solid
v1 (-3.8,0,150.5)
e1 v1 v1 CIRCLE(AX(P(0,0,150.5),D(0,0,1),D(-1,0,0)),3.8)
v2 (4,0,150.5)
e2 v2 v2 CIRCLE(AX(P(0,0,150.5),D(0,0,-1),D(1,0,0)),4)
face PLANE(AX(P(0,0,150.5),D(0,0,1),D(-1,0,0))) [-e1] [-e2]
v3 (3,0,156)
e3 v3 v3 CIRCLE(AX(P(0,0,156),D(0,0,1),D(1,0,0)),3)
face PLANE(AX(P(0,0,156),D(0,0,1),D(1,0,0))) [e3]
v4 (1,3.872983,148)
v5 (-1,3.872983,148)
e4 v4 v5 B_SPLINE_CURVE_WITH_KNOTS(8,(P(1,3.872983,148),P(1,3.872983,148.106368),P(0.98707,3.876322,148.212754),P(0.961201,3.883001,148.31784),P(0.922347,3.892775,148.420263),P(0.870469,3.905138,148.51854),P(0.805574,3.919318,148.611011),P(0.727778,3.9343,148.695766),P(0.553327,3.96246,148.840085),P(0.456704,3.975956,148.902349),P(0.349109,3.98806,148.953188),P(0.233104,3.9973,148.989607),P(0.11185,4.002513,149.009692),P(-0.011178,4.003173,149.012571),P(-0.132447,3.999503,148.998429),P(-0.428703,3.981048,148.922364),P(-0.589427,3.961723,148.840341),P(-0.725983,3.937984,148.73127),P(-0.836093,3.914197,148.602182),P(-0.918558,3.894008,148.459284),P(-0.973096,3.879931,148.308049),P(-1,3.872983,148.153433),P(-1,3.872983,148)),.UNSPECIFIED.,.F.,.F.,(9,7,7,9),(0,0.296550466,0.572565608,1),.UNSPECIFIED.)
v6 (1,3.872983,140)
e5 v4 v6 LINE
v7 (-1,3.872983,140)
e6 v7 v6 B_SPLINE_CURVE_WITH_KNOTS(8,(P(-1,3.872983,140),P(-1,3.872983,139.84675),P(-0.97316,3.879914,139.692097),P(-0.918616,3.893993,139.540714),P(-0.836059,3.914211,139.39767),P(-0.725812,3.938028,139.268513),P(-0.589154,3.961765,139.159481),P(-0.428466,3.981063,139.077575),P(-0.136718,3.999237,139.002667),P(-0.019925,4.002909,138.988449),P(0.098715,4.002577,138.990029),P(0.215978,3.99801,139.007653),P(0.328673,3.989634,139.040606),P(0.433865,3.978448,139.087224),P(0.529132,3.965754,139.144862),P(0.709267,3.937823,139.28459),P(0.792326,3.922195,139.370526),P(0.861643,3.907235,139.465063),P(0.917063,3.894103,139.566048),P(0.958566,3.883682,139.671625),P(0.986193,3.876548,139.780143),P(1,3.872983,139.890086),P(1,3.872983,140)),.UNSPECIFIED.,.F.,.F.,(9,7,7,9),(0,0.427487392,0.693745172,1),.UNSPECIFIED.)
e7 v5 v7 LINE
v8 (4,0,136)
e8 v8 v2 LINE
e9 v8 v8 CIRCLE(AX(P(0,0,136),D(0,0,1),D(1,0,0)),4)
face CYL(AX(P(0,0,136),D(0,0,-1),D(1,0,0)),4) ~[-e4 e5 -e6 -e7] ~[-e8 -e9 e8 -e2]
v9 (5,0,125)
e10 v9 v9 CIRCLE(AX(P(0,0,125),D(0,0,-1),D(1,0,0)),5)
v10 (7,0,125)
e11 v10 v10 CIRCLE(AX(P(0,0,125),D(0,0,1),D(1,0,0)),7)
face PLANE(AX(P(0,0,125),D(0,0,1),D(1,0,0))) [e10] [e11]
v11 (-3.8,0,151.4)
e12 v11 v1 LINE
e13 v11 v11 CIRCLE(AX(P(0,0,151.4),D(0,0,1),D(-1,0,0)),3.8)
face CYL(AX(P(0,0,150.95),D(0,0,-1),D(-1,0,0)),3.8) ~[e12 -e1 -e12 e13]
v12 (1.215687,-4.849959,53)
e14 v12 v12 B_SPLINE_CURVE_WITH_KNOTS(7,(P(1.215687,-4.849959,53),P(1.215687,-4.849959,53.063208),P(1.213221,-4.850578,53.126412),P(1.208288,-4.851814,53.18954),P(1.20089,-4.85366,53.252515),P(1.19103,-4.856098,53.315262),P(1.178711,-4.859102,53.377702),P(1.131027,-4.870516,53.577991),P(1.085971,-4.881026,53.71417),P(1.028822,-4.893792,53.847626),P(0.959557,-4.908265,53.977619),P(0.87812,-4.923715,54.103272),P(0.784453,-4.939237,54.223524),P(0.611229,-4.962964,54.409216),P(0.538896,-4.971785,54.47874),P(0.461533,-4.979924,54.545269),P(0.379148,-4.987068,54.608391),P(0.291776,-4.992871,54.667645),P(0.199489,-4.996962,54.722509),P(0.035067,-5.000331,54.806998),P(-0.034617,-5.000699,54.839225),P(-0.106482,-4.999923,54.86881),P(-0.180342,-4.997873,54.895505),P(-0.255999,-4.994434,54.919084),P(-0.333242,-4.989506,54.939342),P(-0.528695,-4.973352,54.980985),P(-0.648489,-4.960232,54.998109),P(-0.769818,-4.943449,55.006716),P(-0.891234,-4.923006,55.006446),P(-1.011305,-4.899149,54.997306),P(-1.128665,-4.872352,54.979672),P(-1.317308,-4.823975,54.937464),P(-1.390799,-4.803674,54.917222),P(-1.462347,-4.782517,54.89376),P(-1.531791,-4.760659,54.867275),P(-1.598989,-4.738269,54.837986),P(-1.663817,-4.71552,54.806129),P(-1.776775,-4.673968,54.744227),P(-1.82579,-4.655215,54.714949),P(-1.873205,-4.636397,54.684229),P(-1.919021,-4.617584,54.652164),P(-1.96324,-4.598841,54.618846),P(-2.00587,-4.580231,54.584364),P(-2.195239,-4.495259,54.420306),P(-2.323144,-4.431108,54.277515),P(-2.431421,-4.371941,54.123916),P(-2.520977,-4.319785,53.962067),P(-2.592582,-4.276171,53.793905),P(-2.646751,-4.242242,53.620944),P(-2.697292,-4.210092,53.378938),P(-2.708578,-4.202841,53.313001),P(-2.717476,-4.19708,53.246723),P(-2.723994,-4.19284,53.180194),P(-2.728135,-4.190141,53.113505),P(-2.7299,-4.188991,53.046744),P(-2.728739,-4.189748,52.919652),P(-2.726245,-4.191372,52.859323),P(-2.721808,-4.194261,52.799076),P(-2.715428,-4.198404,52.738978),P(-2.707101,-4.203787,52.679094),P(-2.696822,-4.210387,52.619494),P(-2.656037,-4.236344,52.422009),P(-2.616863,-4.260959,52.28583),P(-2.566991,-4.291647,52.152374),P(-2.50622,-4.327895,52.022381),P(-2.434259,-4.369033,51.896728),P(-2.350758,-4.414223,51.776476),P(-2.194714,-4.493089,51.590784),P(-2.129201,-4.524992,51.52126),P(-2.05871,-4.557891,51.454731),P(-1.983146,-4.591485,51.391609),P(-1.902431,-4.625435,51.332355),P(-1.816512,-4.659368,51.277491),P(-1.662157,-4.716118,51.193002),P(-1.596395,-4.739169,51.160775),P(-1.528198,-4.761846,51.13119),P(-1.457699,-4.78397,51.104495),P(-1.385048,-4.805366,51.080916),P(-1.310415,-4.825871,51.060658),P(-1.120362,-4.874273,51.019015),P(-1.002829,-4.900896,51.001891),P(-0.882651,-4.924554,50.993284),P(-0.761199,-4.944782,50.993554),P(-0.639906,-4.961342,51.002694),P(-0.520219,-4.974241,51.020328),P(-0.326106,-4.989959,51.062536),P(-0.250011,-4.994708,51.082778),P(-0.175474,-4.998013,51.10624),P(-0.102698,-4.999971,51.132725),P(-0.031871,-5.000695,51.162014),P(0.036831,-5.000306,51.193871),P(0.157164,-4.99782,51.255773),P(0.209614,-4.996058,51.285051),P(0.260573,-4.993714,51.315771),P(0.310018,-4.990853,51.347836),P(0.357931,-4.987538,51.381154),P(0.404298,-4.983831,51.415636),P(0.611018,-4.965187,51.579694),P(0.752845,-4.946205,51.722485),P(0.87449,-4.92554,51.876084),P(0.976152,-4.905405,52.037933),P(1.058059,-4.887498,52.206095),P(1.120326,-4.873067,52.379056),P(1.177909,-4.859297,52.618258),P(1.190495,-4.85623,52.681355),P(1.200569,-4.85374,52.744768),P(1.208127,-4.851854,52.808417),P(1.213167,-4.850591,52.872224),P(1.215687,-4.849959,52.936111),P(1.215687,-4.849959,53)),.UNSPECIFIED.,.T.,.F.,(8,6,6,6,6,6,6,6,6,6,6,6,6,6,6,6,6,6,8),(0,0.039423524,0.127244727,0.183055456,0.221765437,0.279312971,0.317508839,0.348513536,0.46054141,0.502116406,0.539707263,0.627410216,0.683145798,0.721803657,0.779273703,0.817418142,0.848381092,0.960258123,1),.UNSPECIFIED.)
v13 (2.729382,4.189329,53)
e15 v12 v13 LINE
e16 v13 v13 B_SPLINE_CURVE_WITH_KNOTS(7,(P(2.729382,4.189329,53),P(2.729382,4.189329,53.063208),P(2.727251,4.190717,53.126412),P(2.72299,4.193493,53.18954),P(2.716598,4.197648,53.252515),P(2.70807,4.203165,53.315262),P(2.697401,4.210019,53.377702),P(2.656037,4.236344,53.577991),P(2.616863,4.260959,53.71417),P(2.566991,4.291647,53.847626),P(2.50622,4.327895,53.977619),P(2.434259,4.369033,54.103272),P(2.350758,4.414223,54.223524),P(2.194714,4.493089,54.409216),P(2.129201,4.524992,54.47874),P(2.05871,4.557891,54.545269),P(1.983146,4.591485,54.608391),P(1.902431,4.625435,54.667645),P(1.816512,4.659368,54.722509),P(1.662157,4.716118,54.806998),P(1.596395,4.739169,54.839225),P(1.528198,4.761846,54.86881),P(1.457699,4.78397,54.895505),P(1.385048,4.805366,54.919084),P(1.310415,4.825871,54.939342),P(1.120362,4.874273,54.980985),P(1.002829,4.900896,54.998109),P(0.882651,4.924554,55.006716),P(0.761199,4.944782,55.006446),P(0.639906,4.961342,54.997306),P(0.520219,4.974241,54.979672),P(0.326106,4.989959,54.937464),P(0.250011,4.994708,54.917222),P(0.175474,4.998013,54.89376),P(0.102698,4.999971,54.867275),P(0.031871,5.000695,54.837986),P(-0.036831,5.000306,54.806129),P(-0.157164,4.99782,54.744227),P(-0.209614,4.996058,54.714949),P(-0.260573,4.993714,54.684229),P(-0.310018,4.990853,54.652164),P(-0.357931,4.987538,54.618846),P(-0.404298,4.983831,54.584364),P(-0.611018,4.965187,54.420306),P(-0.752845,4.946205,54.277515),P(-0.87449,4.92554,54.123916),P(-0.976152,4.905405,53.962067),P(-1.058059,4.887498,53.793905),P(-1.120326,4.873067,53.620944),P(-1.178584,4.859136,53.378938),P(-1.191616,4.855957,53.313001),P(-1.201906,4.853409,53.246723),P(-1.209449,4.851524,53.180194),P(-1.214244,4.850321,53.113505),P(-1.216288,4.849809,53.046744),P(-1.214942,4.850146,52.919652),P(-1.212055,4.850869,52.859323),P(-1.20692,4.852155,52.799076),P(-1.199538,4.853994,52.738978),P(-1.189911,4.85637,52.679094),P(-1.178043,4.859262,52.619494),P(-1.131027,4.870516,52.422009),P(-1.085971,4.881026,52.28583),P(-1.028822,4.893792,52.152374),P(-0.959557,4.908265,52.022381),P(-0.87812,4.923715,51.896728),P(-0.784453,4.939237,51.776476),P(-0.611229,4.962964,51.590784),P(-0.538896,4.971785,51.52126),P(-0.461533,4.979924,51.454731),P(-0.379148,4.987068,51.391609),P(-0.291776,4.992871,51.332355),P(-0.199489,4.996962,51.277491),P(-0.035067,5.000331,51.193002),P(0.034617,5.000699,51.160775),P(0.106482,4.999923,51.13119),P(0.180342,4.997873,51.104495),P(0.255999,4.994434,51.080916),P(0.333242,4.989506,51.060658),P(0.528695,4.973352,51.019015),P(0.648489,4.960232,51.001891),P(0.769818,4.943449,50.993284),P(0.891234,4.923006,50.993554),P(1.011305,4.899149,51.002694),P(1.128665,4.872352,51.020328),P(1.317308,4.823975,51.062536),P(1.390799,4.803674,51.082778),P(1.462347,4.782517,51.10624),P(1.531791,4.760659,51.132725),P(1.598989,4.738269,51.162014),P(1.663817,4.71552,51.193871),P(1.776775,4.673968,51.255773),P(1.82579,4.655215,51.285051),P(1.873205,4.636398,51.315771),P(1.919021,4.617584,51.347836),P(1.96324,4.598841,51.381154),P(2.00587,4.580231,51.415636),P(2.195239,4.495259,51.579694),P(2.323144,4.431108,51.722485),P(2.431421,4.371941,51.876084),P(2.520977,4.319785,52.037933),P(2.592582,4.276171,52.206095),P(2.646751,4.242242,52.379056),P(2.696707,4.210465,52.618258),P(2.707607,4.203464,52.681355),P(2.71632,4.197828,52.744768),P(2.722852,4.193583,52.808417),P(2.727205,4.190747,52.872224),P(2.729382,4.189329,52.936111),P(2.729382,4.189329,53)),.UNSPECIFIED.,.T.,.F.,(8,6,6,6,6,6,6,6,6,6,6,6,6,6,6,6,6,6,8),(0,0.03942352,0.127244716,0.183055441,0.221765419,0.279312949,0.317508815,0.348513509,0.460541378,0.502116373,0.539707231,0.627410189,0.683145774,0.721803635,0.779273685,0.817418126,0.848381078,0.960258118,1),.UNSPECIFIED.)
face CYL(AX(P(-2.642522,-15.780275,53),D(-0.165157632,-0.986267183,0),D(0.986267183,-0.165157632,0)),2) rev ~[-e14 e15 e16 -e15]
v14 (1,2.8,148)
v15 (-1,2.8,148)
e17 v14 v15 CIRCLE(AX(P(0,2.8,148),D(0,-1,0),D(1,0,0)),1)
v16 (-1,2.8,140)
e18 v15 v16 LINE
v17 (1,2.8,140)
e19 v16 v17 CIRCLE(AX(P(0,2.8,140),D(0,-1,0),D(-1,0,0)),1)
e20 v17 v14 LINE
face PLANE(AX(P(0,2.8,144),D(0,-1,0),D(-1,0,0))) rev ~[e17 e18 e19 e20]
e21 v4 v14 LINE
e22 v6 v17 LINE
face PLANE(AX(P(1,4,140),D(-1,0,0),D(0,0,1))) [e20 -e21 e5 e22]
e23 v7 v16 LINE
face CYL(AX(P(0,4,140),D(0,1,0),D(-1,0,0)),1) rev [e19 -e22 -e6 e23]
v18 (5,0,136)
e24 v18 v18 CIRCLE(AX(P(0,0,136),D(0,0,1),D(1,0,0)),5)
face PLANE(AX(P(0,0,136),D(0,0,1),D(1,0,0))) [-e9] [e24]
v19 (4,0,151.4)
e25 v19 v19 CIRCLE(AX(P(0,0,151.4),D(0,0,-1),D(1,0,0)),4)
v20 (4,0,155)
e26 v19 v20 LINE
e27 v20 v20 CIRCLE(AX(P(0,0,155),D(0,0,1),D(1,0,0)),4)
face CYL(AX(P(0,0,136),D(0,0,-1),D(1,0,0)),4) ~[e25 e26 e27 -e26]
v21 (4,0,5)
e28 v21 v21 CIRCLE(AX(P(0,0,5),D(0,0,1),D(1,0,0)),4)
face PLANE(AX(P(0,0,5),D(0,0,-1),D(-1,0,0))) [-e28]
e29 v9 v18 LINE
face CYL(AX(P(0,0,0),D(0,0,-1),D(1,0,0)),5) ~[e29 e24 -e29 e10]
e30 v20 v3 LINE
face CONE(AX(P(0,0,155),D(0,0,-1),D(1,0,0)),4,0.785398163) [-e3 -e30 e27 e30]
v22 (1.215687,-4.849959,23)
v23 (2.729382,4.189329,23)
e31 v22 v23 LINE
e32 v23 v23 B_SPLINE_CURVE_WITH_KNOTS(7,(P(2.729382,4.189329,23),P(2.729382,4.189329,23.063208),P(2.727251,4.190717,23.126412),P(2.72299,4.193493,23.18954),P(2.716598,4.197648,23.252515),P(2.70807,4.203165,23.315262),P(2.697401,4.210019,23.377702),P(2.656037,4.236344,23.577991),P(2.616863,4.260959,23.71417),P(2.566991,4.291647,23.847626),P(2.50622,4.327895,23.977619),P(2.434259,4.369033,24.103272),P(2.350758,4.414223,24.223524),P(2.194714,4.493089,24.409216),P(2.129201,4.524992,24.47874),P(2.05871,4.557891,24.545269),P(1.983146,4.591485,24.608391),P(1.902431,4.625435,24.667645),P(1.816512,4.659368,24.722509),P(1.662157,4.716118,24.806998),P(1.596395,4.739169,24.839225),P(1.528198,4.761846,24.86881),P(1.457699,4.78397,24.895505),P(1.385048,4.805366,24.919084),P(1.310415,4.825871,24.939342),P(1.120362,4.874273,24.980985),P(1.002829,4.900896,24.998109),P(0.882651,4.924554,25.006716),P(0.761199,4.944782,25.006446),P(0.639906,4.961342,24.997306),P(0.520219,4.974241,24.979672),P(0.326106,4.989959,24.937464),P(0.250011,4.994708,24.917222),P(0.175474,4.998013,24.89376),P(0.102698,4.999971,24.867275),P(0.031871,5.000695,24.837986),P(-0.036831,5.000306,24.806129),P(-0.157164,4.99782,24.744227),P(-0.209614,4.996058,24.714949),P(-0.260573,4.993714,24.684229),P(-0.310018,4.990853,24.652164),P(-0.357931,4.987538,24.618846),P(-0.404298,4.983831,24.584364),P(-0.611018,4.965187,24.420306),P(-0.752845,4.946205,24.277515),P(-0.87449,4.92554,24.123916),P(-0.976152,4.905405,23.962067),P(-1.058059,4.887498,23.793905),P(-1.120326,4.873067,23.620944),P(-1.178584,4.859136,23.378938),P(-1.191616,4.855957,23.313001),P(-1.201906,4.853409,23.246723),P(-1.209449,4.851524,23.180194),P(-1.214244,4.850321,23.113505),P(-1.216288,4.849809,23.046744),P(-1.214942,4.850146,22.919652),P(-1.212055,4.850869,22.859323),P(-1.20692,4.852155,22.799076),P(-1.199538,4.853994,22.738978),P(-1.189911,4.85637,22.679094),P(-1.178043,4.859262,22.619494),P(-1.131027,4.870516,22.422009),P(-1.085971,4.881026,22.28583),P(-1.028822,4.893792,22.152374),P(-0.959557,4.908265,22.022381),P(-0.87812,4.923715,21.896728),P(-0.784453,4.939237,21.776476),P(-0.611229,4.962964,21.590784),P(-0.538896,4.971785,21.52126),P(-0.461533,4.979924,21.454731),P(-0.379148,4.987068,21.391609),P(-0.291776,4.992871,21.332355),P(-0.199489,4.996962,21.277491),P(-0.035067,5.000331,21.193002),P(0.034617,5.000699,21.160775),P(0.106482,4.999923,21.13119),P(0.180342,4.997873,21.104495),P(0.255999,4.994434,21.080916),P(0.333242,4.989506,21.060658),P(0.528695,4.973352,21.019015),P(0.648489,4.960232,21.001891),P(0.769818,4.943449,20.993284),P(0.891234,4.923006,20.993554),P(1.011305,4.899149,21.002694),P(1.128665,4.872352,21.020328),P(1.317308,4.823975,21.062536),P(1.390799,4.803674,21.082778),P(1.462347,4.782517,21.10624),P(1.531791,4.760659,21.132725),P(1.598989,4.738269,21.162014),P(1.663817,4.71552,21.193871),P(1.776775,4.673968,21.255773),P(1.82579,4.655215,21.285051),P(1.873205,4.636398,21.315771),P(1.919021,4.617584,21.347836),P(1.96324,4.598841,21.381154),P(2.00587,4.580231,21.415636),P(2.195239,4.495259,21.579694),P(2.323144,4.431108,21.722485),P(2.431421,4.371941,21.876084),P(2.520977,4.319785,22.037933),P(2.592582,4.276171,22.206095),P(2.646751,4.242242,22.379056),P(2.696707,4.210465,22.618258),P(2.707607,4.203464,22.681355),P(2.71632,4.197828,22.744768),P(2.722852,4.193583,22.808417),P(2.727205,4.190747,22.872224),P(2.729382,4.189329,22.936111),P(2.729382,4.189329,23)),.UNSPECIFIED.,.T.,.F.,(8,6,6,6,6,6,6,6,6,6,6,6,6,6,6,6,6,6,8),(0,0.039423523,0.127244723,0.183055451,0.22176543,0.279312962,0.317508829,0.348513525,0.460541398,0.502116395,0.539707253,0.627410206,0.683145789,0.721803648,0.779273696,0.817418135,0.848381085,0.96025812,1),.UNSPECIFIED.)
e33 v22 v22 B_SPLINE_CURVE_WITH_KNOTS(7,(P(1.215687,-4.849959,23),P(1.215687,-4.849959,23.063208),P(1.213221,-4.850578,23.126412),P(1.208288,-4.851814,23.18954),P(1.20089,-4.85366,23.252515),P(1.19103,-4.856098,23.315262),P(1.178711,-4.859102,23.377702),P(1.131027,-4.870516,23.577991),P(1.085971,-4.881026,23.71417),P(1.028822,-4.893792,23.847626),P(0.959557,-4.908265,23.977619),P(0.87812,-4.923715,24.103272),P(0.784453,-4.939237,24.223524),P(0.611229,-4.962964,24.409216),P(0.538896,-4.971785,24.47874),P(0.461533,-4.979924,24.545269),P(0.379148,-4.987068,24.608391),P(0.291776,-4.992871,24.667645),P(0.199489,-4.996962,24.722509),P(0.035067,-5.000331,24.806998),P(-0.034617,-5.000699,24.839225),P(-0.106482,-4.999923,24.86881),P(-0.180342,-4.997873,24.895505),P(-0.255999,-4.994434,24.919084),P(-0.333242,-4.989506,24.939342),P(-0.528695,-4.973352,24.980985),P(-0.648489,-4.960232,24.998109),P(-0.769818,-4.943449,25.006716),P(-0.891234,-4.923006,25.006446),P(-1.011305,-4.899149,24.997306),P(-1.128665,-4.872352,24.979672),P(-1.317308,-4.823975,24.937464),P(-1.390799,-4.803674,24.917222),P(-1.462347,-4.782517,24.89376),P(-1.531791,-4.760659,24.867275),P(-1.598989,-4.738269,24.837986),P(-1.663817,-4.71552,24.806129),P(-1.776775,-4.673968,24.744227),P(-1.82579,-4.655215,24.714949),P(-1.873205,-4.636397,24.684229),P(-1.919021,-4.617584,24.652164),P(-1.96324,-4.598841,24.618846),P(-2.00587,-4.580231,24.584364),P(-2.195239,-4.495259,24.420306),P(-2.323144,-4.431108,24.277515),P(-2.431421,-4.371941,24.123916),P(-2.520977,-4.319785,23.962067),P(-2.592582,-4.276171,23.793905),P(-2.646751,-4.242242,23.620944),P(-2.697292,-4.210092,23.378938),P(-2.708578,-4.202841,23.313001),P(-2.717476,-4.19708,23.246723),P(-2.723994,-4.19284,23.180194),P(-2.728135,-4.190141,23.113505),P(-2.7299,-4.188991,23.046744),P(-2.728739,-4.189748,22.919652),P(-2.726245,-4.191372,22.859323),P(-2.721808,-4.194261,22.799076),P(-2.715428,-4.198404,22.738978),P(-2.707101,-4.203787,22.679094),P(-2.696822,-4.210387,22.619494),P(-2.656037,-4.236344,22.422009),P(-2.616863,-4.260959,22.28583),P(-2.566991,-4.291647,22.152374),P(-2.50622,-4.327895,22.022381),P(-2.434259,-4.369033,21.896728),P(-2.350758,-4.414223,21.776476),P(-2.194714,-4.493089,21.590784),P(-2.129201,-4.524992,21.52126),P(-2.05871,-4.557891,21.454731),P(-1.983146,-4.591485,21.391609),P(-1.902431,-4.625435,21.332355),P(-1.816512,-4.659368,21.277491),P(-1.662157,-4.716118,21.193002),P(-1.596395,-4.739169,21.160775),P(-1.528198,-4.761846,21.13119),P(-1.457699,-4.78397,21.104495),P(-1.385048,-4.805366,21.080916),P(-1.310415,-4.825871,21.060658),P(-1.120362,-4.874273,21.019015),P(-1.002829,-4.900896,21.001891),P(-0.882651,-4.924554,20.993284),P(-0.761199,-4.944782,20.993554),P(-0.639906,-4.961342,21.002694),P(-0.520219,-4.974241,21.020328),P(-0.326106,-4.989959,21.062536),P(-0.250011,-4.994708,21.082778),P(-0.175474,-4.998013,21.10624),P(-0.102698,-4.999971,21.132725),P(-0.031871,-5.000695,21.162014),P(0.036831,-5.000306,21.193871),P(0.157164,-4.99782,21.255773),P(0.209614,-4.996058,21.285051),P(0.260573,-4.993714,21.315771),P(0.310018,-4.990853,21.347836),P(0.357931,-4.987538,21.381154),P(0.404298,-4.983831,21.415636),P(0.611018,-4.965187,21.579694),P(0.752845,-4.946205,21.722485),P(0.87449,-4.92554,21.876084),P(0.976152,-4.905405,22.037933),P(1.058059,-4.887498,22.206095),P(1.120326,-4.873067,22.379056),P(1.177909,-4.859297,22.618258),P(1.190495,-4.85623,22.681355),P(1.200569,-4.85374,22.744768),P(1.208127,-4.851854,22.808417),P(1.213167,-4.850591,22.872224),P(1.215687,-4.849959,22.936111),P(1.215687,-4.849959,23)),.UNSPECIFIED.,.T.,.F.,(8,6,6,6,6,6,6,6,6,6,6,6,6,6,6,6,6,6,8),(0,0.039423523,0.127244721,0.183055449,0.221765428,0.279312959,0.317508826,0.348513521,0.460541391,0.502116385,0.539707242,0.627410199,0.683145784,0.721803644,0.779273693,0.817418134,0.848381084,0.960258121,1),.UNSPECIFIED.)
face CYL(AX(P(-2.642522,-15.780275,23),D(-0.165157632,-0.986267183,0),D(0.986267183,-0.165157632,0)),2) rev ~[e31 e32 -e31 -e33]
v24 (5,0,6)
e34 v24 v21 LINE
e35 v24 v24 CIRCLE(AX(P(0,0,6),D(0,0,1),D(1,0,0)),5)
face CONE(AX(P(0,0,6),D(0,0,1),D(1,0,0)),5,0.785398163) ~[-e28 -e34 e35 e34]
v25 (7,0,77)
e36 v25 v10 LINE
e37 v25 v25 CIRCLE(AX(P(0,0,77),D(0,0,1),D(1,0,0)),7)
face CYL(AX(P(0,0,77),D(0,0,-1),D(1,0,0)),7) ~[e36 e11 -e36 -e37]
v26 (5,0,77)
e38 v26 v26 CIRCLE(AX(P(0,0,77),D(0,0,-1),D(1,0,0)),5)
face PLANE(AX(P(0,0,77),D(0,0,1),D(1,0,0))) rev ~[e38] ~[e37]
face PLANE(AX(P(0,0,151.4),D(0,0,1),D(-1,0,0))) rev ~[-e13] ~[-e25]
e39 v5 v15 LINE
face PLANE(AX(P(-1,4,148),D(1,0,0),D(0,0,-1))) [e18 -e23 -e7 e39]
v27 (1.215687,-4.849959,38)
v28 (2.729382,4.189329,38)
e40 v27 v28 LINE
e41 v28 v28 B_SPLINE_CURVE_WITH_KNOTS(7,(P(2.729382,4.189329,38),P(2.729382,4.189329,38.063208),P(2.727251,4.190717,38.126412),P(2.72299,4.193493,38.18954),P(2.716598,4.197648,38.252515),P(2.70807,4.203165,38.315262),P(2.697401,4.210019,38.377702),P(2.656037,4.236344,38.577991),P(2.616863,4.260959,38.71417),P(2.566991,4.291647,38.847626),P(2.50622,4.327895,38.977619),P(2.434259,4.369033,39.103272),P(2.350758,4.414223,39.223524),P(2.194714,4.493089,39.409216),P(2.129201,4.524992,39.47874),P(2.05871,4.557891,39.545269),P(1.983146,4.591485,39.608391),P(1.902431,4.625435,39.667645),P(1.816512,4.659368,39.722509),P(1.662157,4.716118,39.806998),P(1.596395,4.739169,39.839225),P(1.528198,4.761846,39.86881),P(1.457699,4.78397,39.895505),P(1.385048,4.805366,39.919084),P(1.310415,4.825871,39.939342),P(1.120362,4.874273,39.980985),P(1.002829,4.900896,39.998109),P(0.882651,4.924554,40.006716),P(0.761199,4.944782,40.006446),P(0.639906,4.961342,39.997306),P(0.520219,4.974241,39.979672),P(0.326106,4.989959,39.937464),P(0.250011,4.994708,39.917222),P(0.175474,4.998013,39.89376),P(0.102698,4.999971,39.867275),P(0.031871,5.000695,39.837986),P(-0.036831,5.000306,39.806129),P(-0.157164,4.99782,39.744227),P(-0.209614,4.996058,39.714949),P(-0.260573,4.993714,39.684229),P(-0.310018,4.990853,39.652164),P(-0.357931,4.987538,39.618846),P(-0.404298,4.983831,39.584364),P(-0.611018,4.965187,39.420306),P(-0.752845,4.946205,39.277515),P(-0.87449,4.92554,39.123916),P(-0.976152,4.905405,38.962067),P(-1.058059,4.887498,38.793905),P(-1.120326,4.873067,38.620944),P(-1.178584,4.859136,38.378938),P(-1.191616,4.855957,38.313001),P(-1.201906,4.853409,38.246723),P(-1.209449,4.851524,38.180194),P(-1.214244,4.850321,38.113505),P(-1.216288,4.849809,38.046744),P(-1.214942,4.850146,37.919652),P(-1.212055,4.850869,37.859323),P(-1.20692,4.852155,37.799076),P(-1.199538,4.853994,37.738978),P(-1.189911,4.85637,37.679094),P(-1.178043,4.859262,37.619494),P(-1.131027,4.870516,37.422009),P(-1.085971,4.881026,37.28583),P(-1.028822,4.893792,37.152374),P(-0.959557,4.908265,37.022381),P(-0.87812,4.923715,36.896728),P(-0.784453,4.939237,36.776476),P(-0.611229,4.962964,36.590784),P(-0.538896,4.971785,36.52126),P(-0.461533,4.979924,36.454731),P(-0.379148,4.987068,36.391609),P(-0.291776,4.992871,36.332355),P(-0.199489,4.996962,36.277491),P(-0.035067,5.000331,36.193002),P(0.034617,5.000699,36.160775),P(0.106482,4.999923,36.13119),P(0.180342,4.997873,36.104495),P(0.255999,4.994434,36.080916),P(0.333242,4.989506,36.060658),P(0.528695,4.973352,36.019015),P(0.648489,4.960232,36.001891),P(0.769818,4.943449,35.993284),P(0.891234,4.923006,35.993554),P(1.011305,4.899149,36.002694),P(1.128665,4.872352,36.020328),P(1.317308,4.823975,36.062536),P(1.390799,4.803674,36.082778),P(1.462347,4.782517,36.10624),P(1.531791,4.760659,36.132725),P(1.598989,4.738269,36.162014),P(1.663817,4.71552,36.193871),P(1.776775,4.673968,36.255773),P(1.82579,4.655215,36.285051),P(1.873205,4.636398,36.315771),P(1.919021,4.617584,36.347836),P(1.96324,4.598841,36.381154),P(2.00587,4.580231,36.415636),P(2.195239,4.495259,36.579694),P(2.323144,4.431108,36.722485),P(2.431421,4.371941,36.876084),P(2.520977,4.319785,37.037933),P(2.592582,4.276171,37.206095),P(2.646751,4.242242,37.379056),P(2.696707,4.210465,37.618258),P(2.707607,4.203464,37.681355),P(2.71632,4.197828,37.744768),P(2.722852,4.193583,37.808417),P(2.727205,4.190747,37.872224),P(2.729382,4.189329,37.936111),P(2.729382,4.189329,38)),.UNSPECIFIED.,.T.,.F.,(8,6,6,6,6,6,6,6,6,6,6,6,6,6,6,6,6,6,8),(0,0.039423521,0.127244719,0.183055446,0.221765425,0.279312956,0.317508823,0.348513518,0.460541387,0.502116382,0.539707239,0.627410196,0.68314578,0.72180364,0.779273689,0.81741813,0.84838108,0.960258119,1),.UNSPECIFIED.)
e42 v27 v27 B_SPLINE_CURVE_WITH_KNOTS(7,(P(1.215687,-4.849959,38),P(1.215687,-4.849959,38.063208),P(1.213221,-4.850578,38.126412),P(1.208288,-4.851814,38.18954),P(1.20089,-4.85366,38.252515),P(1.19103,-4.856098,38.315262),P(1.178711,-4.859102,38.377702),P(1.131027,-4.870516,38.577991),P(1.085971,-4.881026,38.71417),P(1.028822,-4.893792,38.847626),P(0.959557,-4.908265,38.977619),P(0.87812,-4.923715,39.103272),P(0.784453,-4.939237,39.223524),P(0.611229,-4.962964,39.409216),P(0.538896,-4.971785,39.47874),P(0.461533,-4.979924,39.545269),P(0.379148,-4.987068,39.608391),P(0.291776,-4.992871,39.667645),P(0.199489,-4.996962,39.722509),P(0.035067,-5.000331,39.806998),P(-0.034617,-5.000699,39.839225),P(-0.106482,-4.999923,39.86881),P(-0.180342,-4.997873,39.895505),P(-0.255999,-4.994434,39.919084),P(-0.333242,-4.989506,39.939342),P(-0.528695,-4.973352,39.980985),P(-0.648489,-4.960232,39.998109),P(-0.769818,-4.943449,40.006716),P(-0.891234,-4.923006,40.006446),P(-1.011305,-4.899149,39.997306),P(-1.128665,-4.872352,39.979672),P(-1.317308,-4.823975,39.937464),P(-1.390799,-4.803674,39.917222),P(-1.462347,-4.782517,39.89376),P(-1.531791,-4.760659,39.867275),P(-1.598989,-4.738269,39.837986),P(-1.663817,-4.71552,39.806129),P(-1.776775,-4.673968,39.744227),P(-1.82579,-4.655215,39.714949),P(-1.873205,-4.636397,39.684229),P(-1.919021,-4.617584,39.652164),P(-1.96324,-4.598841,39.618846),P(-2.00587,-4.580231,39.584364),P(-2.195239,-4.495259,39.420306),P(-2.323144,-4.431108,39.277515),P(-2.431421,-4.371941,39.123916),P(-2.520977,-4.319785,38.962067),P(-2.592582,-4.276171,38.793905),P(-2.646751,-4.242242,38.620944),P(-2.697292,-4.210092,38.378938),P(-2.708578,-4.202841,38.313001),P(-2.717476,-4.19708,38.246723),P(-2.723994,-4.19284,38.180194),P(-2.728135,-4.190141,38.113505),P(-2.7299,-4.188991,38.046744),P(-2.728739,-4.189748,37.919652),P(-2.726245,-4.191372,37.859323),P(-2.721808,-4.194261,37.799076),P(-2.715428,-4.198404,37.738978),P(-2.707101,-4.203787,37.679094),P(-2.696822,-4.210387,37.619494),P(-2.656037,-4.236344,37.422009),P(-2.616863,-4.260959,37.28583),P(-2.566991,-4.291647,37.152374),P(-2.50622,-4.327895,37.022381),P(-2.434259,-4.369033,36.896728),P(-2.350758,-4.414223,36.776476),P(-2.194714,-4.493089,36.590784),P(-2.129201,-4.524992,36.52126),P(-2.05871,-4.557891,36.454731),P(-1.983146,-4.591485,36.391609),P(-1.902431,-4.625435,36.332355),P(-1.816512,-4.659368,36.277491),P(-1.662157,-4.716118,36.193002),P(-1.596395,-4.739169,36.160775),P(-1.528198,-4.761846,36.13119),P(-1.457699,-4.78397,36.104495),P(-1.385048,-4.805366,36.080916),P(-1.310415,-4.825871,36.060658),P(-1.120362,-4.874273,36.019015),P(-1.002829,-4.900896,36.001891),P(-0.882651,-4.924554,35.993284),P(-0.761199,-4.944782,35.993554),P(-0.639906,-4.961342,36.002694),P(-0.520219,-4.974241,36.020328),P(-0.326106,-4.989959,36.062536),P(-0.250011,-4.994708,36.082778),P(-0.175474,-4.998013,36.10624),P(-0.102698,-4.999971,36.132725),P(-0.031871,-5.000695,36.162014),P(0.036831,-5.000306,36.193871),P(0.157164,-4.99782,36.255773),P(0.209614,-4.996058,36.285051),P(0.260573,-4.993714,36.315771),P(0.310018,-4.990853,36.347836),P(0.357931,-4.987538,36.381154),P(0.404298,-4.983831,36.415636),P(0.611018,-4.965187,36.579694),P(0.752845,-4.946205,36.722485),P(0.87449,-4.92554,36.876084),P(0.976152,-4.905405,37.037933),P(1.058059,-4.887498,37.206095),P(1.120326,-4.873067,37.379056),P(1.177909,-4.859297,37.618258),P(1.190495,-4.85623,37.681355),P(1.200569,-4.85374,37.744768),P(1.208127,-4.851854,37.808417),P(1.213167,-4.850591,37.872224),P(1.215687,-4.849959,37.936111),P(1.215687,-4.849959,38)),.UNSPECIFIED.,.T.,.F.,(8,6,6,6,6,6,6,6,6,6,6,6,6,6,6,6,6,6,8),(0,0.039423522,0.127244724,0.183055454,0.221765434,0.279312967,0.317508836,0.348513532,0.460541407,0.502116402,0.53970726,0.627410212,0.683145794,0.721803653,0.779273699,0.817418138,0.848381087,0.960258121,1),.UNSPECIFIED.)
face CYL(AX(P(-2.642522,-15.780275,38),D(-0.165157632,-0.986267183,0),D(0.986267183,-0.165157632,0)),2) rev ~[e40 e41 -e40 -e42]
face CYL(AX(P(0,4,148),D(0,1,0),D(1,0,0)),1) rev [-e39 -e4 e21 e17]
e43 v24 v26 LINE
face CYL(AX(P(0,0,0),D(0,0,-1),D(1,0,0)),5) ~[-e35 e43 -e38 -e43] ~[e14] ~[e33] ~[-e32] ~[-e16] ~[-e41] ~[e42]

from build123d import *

# Parameters (mm, degrees)
SKETCH1_R           = 5
BOSS_EXTRUDE1_DEPTH = 136
SKETCH2_R           = 4
BOSS_EXTRUDE2_DEPTH = 20
CUT_EXTRUDE1_DEPTH  = 1.2
SKETCH4_W           = 0.55765723
SKETCH4_H           = 0.9
CHAMFER1_SIZE       = 1
SKETCH6_R           = 7
BOSS_EXTRUDE3_DEPTH = 48
CUT_EXTRUDE3_REACH  = 159.949
SKETCH7_R           = 2
SKETCH8_R           = 5
CUT_EXTRUDE4_DEPTH  = 5
CHAMFER2_SIZE       = 1


with BuildPart() as part:
    # Sketch1 → Boss-Extrude1 (new body)
    with BuildSketch(Plane.XY):
        Circle(SKETCH1_R)
    extrude(amount=BOSS_EXTRUDE1_DEPTH)

    # Sketch2 → Boss-Extrude2 (add)
    with BuildSketch(Plane.XY.offset(136)):
        Circle(SKETCH2_R)
    extrude(amount=BOSS_EXTRUDE2_DEPTH)

    # Sketch3 → Cut-Extrude1 (cut)
    with BuildSketch(Plane(origin=(0, 4, 0), x_dir=(1, 0, 0), z_dir=(0, 1, 0))):
        with BuildLine():
            Line((-1, -148), (-1, -140))
            ThreePointArc((-1, -140), (0, -139), (1, -140))
            Line((1, -140), (1, -148))
            ThreePointArc((1, -148), (0, -149), (-1, -148))
        make_face()
    extrude(amount=-CUT_EXTRUDE1_DEPTH, mode=Mode.SUBTRACT)

    # Sketch4 → Cut-Revolve1 (revolve, cut)
    with BuildSketch(Plane(origin=(0, 0, 0), x_dir=(1, 0, 0), z_dir=(0, 1, 0))):
        with Locations((-4.078828615, -150.95)):
            Rectangle(SKETCH4_W, SKETCH4_H)
    revolve(axis=Axis((0, 0, -16.531983683), (0, 0, 1)), mode=Mode.SUBTRACT)

    # Chamfer1
    chamfer1_edges = [part.edges().sort_by_distance(p)[0] for p in [
        (-4, 0, 156),
    ]]
    chamfer(chamfer1_edges, length=CHAMFER1_SIZE)

    # Sketch6 → Boss-Extrude3 (add)
    with BuildSketch(Plane.XY.offset(77)):
        Circle(SKETCH6_R)
    extrude(amount=BOSS_EXTRUDE3_DEPTH)

    # Sketch7 → Cut-Extrude3 (cut, up to next)
    with BuildSketch(Plane(origin=(-2.642522108, -15.780274931, 0), x_dir=(0, 0, 1), z_dir=(-0.16515763172219566, -0.9862671832135123, -1.0705486064346984e-15)), mode=Mode.PRIVATE) as cut_extrude3_sk1:
        with Locations((53, 0)):
            Circle(SKETCH7_R)
    cut_extrude3_tool1 = extrude(cut_extrude3_sk1.sketch, amount=-CUT_EXTRUDE3_REACH, mode=Mode.PRIVATE) & part.part
    # Sketch7 → Cut-Extrude3 (cut, up to next)
    with BuildSketch(Plane(origin=(-2.642522108, -15.780274931, 0), x_dir=(0, 0, 1), z_dir=(-0.16515763172219566, -0.9862671832135123, -1.0705486064346984e-15)), mode=Mode.PRIVATE) as cut_extrude3_sk2:
        with Locations((38, 0)):
            Circle(SKETCH7_R)
    cut_extrude3_tool2 = extrude(cut_extrude3_sk2.sketch, amount=-CUT_EXTRUDE3_REACH, mode=Mode.PRIVATE) & part.part
    # Sketch7 → Cut-Extrude3 (cut, up to next)
    with BuildSketch(Plane(origin=(-2.642522108, -15.780274931, 0), x_dir=(0, 0, 1), z_dir=(-0.16515763172219566, -0.9862671832135123, -1.0705486064346984e-15)), mode=Mode.PRIVATE) as cut_extrude3_sk3:
        with Locations((23, 0)):
            Circle(SKETCH7_R)
    cut_extrude3_tool3 = extrude(cut_extrude3_sk3.sketch, amount=-CUT_EXTRUDE3_REACH, mode=Mode.PRIVATE) & part.part
    add(cut_extrude3_tool1.solids().sort_by_distance((-2.642522, -15.780275, 53))[0], mode=Mode.SUBTRACT)
    add(cut_extrude3_tool2.solids().sort_by_distance((-2.642522, -15.780275, 38))[0], mode=Mode.SUBTRACT)
    add(cut_extrude3_tool3.solids().sort_by_distance((-2.642522, -15.780275, 23))[0], mode=Mode.SUBTRACT)

    # Sketch8 → Cut-Extrude4 (cut)
    with BuildSketch(Plane(origin=(0, 0, 0), x_dir=(-1, 0, 0), z_dir=(0, 0, -1))):
        Circle(SKETCH8_R)
    extrude(amount=-CUT_EXTRUDE4_DEPTH, mode=Mode.SUBTRACT)

    # Chamfer2
    chamfer2_edges = [part.edges().sort_by_distance(p)[0] for p in [
        (-5, 0, 5),
    ]]
    chamfer(chamfer2_edges, length=CHAMFER2_SIZE)


solid = part.part
